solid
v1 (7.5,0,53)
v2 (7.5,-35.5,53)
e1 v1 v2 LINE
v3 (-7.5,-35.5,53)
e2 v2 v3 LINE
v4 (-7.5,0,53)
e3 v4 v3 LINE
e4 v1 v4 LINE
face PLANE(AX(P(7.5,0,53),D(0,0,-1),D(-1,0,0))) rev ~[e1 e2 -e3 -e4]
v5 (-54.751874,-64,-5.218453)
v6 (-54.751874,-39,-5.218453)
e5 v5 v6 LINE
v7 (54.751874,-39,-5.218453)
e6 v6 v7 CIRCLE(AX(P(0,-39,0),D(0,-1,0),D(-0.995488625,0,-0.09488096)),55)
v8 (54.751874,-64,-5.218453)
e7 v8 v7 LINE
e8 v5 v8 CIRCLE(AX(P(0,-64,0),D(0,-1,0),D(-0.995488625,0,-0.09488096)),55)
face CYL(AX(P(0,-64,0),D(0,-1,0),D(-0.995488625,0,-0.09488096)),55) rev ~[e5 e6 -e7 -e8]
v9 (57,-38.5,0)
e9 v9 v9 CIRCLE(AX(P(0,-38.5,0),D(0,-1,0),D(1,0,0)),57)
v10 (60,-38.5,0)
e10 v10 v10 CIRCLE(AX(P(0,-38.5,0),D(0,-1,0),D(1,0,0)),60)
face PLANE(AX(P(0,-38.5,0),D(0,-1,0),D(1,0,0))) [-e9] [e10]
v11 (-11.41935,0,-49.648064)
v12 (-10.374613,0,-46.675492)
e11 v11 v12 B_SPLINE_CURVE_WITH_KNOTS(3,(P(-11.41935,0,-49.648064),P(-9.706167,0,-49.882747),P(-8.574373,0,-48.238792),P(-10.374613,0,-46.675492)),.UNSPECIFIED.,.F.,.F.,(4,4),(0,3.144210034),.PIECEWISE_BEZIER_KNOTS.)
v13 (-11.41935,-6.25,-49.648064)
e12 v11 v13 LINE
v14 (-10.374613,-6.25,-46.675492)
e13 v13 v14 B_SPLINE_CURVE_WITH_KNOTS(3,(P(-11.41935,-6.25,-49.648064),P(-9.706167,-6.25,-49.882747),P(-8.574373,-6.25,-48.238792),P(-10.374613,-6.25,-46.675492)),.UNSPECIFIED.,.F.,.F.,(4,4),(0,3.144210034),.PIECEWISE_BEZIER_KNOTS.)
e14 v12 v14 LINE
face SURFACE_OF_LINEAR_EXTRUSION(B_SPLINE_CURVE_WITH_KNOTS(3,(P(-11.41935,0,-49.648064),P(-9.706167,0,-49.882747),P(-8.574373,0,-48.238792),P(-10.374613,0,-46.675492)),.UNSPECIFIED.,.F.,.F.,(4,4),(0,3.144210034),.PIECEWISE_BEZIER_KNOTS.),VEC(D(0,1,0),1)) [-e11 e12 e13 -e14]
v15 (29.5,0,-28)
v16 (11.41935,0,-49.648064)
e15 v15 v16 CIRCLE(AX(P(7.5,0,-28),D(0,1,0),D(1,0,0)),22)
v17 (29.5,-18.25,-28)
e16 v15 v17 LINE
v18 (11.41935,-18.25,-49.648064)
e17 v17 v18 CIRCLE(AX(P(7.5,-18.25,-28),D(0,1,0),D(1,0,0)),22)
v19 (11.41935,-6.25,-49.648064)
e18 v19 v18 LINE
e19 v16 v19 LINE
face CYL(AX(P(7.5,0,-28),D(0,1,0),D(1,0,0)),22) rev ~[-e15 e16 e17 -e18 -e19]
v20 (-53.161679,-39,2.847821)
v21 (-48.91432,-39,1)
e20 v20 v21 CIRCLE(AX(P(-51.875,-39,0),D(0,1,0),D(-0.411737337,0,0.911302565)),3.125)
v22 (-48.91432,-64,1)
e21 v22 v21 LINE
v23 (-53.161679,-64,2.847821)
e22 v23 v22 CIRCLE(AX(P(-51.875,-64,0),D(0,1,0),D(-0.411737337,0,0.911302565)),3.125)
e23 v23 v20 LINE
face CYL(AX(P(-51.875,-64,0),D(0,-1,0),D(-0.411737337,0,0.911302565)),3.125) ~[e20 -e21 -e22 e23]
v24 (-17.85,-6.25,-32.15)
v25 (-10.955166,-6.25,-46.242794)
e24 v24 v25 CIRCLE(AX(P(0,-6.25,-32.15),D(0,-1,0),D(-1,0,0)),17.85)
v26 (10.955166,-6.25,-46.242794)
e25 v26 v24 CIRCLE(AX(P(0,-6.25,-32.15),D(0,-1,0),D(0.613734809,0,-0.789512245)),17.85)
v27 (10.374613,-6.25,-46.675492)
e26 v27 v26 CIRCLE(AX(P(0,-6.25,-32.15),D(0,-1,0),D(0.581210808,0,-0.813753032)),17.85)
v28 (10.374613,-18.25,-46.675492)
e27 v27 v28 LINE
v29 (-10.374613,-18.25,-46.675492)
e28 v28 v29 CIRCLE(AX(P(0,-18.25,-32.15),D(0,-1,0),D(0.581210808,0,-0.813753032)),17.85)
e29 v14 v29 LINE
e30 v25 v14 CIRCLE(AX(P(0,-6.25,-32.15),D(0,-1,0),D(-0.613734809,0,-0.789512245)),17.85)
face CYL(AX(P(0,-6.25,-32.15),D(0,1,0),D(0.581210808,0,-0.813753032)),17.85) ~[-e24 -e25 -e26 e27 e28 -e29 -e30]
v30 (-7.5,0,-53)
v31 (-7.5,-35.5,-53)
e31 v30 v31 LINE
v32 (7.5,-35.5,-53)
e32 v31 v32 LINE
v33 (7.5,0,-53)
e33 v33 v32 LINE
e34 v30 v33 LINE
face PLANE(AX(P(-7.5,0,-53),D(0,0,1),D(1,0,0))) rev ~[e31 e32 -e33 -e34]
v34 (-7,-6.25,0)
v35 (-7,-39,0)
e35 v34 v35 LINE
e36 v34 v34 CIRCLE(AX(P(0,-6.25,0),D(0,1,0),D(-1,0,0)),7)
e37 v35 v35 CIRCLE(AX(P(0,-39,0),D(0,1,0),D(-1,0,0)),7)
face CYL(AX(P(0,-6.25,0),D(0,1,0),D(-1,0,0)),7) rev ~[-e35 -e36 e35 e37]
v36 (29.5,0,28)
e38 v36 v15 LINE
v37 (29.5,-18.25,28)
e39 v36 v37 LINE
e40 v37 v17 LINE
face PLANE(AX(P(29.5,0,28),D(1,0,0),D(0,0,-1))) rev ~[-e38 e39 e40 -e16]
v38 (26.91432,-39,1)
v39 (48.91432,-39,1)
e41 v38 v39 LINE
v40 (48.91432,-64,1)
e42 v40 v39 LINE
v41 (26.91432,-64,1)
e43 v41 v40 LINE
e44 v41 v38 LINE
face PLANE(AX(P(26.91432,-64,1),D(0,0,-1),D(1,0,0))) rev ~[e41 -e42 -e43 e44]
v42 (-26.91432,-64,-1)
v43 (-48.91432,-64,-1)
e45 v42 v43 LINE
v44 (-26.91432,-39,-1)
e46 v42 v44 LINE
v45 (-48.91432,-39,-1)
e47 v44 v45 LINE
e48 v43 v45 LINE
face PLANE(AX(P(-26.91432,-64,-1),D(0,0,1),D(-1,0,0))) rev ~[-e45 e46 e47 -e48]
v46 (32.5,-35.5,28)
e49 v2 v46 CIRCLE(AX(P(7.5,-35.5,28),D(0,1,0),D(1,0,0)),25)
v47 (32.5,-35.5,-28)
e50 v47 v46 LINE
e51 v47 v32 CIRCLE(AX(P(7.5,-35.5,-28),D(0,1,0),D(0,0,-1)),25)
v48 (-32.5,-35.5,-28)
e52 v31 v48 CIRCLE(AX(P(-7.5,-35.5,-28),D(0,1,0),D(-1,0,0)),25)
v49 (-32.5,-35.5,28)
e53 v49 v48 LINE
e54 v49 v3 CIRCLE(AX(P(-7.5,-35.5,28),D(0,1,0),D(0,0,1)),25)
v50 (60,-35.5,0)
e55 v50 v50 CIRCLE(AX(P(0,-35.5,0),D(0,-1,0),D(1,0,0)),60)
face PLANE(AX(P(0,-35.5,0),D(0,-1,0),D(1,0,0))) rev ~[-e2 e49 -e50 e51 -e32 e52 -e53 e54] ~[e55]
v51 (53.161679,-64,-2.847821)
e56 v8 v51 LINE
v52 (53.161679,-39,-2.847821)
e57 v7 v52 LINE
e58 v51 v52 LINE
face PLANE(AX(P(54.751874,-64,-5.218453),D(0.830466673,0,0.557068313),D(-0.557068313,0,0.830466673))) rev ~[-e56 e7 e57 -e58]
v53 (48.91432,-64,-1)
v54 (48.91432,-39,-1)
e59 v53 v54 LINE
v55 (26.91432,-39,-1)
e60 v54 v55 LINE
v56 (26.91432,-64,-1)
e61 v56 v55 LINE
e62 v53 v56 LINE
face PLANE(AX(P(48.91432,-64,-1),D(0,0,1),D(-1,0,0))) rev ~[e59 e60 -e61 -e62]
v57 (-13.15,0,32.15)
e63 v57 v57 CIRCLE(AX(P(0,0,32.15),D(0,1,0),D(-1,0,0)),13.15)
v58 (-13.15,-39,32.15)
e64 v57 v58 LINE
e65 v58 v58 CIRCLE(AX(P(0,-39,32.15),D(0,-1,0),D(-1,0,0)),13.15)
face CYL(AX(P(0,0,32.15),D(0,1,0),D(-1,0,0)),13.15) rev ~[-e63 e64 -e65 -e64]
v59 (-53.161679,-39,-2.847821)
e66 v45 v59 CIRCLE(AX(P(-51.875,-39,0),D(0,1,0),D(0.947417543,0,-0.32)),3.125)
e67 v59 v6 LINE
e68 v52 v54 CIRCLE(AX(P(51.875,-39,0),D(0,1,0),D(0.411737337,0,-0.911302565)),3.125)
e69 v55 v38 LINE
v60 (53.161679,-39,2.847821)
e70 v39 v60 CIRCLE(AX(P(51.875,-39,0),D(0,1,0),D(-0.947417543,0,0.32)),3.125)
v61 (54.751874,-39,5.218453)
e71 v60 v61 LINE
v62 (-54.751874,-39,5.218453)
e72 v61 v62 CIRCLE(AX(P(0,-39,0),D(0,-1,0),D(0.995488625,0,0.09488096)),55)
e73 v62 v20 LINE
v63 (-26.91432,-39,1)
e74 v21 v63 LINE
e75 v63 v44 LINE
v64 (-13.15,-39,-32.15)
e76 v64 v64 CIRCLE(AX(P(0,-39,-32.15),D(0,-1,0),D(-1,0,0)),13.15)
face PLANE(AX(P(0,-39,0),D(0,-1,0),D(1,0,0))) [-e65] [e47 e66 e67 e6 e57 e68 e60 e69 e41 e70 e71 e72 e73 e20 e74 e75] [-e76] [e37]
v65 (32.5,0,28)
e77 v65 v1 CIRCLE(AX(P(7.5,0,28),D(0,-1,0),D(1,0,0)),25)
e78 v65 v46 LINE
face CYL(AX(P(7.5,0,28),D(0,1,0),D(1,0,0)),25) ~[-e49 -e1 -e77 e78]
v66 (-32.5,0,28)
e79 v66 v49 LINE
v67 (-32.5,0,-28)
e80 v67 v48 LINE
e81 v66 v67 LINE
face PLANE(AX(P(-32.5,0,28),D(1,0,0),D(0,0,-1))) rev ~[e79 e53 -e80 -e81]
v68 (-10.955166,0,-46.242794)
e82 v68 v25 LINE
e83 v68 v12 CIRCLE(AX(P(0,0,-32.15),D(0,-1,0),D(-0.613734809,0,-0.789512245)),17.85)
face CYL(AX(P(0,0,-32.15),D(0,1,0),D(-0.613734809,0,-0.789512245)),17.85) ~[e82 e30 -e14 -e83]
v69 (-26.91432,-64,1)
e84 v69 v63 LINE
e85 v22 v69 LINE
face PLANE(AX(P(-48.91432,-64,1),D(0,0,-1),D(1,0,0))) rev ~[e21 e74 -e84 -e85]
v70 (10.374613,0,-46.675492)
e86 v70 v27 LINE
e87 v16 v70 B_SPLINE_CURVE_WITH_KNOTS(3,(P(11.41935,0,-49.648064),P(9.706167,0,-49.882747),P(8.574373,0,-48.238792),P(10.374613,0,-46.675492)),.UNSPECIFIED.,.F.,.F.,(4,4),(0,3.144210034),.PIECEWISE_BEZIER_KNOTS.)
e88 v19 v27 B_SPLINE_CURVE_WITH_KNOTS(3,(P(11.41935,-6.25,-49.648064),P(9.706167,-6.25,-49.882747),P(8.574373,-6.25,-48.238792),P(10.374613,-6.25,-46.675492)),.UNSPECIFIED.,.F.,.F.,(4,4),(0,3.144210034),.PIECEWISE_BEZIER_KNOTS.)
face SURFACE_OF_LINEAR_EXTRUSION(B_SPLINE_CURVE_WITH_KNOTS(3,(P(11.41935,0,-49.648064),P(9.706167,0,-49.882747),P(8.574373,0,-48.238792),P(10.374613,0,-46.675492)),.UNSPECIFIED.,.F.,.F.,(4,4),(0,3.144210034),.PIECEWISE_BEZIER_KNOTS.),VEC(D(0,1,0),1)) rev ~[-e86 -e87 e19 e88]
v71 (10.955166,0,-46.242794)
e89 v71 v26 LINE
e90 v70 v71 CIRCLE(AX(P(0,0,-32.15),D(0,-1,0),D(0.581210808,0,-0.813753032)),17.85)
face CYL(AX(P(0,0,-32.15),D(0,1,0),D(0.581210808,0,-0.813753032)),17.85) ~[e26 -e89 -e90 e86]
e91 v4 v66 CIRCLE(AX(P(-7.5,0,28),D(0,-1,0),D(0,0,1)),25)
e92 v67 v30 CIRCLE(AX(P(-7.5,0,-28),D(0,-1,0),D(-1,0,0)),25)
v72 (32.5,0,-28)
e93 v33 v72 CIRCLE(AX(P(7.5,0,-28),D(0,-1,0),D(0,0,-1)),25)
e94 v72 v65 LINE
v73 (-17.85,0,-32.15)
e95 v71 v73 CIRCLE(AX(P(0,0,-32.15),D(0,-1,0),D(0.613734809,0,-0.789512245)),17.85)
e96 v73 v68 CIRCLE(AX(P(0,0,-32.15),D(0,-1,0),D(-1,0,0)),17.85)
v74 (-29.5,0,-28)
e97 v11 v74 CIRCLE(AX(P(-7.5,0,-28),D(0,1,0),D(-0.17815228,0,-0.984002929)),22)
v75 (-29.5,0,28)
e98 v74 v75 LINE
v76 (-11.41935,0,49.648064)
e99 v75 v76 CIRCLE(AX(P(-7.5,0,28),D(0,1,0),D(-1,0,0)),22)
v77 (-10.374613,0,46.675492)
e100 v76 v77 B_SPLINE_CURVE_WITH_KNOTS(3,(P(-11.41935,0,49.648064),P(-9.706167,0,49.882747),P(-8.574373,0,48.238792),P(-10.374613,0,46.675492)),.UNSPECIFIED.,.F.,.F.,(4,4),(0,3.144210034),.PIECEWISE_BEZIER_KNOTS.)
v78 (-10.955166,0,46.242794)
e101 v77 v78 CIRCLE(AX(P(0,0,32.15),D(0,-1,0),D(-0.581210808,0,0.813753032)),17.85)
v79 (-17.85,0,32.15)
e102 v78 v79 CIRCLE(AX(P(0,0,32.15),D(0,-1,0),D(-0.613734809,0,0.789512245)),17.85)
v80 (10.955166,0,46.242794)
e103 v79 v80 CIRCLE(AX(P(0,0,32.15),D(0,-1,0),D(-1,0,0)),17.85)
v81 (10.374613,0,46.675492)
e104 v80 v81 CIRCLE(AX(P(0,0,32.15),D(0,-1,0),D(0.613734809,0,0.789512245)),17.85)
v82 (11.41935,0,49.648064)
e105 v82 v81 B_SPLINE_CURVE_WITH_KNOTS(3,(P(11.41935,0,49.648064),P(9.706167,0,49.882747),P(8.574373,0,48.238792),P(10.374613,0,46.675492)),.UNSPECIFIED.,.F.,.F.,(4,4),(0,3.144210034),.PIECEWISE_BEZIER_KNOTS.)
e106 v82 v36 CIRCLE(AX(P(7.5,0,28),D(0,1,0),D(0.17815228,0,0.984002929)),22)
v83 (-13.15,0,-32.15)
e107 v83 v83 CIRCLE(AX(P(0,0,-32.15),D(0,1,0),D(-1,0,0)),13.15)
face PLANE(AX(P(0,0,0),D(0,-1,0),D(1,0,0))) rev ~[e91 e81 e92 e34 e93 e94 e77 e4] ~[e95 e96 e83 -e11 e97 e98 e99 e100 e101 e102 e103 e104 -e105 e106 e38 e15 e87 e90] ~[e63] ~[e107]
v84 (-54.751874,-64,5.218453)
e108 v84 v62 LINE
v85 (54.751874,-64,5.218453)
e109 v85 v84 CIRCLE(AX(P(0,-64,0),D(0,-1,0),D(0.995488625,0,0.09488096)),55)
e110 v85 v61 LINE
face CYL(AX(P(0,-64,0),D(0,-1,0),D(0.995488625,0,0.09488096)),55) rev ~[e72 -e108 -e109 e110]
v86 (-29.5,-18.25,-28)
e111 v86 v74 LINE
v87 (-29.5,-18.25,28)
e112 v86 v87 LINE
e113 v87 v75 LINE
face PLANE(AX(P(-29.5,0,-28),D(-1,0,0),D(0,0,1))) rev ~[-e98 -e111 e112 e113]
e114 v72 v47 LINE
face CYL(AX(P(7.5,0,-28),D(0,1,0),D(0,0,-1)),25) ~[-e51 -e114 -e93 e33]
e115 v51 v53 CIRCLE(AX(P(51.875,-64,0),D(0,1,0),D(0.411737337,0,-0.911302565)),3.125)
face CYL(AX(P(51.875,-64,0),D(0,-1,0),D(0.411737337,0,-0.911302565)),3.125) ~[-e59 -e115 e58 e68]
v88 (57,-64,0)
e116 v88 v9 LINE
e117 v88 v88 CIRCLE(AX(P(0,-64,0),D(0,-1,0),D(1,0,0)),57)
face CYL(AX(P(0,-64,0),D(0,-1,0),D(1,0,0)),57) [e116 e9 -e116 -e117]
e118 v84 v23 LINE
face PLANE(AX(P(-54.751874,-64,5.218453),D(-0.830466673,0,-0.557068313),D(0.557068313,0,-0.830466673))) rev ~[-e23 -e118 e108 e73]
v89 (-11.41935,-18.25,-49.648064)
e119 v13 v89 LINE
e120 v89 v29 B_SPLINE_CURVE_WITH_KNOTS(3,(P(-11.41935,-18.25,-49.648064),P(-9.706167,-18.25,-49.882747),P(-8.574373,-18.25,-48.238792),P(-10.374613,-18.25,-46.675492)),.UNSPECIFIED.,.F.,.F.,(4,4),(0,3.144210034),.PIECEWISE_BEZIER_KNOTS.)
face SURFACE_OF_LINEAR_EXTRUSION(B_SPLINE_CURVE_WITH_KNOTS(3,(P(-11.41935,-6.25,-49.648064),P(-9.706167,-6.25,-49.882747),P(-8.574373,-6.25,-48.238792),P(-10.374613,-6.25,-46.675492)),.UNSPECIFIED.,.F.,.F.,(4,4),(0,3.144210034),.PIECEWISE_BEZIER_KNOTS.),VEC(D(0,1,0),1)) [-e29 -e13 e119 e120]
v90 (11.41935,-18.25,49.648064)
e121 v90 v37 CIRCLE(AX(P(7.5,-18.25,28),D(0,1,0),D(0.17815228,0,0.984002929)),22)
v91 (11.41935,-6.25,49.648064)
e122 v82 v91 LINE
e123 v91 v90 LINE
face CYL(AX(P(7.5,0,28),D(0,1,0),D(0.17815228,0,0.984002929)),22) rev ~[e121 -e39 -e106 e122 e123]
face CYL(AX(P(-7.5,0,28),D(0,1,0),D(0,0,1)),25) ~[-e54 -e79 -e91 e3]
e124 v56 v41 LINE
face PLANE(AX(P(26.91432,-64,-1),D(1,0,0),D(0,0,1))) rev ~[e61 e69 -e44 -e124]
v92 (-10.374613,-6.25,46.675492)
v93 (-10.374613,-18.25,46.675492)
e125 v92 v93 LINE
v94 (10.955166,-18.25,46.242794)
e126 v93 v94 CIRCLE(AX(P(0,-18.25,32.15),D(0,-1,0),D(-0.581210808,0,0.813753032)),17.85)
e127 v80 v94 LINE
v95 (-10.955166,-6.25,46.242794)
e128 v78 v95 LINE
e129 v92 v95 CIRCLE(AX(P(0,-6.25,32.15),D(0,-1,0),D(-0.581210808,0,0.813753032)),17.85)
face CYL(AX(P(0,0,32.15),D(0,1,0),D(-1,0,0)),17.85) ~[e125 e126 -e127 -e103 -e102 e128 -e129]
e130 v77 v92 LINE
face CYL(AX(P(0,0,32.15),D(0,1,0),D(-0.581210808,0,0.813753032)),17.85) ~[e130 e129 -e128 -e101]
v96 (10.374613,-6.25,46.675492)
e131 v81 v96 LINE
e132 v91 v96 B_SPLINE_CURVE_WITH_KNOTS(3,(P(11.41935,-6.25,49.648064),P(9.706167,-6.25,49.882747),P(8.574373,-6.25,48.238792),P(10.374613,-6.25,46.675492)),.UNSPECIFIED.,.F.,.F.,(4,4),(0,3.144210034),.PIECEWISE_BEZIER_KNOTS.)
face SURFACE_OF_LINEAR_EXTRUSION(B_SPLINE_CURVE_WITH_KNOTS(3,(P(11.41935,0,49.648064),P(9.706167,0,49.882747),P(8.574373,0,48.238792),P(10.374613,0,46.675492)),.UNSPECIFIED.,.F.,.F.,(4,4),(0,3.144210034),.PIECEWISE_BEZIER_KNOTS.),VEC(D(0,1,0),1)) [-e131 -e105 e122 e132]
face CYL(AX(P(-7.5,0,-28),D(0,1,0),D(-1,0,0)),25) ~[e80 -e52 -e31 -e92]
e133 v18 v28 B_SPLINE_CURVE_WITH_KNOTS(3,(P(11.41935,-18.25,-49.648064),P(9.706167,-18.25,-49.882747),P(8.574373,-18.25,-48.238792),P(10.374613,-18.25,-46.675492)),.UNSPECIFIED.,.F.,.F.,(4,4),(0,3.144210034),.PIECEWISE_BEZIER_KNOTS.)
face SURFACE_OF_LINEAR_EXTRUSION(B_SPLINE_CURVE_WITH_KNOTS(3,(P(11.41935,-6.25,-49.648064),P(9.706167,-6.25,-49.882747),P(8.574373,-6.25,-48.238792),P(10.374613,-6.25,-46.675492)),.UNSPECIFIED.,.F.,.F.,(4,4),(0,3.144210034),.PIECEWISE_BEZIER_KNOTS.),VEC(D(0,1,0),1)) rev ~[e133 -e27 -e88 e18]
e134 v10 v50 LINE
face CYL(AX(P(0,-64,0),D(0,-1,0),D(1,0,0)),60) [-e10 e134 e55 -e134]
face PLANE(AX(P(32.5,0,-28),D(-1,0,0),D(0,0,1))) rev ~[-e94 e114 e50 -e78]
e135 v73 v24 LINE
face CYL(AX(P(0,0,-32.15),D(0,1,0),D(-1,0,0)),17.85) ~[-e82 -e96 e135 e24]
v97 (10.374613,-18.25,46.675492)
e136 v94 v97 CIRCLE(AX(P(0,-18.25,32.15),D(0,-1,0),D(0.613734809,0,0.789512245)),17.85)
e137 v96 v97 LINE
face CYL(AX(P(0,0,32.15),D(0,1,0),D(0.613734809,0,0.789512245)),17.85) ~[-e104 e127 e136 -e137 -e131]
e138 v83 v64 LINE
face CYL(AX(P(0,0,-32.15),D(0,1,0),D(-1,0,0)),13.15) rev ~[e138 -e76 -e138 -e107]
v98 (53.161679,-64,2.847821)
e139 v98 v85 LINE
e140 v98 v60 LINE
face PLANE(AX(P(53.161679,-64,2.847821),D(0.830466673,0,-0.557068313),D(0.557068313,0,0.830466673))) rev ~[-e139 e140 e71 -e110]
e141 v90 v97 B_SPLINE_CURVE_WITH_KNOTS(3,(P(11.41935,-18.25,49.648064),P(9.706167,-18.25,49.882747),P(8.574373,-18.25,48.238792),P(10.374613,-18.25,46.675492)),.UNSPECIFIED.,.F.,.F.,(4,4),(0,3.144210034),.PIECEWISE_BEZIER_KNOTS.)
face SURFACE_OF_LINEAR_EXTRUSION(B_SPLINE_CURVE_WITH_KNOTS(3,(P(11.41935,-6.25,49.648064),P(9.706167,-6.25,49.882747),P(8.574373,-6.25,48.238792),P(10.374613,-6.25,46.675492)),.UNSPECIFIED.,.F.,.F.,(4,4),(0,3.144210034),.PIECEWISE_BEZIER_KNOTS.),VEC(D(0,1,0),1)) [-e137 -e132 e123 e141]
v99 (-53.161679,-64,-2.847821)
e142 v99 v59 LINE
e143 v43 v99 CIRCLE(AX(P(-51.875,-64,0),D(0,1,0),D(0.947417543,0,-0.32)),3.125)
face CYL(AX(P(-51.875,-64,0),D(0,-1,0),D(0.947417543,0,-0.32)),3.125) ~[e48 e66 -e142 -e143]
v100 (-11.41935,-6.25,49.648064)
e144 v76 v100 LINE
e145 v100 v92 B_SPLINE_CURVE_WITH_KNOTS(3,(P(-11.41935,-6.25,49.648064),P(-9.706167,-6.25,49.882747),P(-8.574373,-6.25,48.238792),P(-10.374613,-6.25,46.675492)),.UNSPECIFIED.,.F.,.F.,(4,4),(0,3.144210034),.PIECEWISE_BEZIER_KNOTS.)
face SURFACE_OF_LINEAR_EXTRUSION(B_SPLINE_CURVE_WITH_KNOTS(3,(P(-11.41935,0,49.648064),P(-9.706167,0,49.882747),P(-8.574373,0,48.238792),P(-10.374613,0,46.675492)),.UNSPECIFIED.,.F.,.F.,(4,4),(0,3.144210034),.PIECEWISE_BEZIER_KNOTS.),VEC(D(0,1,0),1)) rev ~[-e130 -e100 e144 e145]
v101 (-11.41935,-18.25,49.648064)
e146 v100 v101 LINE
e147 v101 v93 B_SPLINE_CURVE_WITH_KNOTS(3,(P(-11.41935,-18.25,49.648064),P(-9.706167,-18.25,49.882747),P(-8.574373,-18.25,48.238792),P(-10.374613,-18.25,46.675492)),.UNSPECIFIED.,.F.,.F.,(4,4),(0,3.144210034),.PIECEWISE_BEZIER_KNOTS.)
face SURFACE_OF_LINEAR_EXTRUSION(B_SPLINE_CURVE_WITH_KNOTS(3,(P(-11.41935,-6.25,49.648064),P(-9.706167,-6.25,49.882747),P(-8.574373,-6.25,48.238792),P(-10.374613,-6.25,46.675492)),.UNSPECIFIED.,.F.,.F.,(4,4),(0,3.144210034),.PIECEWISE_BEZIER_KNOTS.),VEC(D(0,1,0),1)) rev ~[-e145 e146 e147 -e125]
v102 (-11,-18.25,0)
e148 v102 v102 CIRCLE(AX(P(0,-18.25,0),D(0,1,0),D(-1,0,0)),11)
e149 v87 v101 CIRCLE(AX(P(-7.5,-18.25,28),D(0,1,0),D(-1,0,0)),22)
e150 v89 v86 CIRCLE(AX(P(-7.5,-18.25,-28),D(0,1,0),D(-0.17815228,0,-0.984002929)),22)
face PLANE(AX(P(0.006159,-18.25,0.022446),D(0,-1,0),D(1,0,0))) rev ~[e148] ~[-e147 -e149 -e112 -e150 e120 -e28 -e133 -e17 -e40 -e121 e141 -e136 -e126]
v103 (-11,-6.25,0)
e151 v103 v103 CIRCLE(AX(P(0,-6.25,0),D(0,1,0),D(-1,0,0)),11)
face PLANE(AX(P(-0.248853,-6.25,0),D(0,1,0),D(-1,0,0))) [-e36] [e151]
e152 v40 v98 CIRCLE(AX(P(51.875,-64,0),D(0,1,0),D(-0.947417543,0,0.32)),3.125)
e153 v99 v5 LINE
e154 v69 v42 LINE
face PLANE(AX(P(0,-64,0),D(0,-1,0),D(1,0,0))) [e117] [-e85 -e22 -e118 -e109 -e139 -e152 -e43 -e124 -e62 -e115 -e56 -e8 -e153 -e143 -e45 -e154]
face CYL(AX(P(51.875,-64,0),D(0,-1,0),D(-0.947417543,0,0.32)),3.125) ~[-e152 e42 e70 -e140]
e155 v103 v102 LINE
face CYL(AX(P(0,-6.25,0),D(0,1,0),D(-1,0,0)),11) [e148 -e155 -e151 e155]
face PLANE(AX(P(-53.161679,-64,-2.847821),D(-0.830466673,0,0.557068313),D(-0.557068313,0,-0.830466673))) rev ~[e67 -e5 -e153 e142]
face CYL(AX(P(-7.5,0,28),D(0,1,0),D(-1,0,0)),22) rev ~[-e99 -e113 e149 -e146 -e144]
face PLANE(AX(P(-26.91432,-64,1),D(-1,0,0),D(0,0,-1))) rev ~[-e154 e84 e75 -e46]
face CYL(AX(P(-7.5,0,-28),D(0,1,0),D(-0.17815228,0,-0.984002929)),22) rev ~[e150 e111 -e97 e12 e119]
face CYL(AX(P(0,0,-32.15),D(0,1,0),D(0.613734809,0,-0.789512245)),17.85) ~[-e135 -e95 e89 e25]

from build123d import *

# Parameters (mm, degrees)
F1_DEPTH  = 64
F2_R      = 60
F3_DEPTH  = 28.5
F4_R      = 60
F4_R_2    = 57
F5_DEPTH  = 25.5
F7_DEPTH  = 6.25
F8_R      = 13.15
F9_DEPTH  = 64.001
F10_R     = 11
F11_DEPTH = 12
F12_R     = 13.15
F13_DEPTH = 25
F14_R     = 7
F15_DEPTH = 57.751


with BuildPart() as f1:
    # F0 (on Front) → F1 (new body)
    with BuildSketch(Plane.XZ):
        with BuildLine():
            ThreePointArc((-32.5, -28), (-25.1776695297, -45.6776695297), (-7.5, -53))
            Line((-7.5, -53), (7.5, -53))
            ThreePointArc((7.5, -53), (25.1776695297, -45.6776695297), (32.5, -28))
            Line((32.5, -28), (32.5, 28))
            ThreePointArc((32.5, 28), (25.1776695297, 45.6776695297), (7.5, 53))
            Line((7.5, 53), (-7.5, 53))
            ThreePointArc((-7.5, 53), (-25.1776695297, 45.6776695297), (-32.5, 28))
            Line((-32.5, 28), (-32.5, -28))
        make_face()
    extrude(amount=F1_DEPTH)

    # F2 (on face) → F3 (join)
    with BuildSketch(Plane.XZ.offset(64)):
        Circle(F2_R)
    extrude(amount=-F3_DEPTH)

    # F4 (on face) → F5 (cut)
    with BuildSketch(Plane.XZ.offset(64)):
        Circle(F4_R)
        Circle(F4_R_2, mode=Mode.SUBTRACT)
    extrude(amount=-F5_DEPTH, mode=Mode.SUBTRACT)

    # F6 (on face) → F7 (cut)
    with BuildSketch(Plane(origin=(0, 0, 0), x_dir=(-1, 0, 0), z_dir=(0, 1, 0))):
        with BuildLine():
            ThreePointArc((10.955166333, 46.2427935703), (16.0339049992, 39.9945133997), (17.85, 32.15))
            ThreePointArc((17.85, 32.15), (-7.8445133997, 16.1160950008), (-10.955166333, 46.2427935703))
            ThreePointArc((-10.955166333, 46.2427935703), (-10.6670838439, 46.4620865798), (-10.3746129282, 46.6754916127))
            add(Edge.make_bspline(
                [(-11.4193501695, 49.6480644458), (-9.7061666222, 49.8827470388), (-8.574372674, 48.2387921733), (-10.3746129282, 46.6754916127)],
                knots=[0, 0, 0, 0, 3.1442100344, 3.1442100344, 3.1442100344, 3.1442100344], degree=3))
            ThreePointArc((-11.4193501695, 49.6480644458), (-24.3852850691, 42.1027354841), (-29.5, 28))
            Line((-29.5, 28), (-29.5, -28))
            ThreePointArc((-29.5, -28), (-24.3852850691, -42.1027354841), (-11.4193501695, -49.6480644458))
            add(Edge.make_bspline(
                [(-11.4193501695, -49.6480644458), (-9.7061666222, -49.8827470388), (-8.574372674, -48.2387921733), (-10.3746129282, -46.6754916127)],
                knots=[0, 0, 0, 0, 3.1442100344, 3.1442100344, 3.1442100344, 3.1442100344], degree=3))
            ThreePointArc((-10.3746129282, -46.6754916127), (-10.6670838439, -46.4620865798), (-10.955166333, -46.2427935703))
            ThreePointArc((-10.955166333, -46.2427935703), (-7.8445133997, -16.1160950008), (17.85, -32.15))
            ThreePointArc((17.85, -32.15), (16.0339049992, -39.9945133997), (10.955166333, -46.2427935703))
            ThreePointArc((10.955166333, -46.2427935703), (10.6670838439, -46.4620865798), (10.3746129282, -46.6754916127))
            add(Edge.make_bspline(
                [(11.4193501695, -49.6480644458), (9.7061666222, -49.8827470388), (8.574372674, -48.2387921733), (10.3746129282, -46.6754916127)],
                knots=[0, 0, 0, 0, 3.1442100344, 3.1442100344, 3.1442100344, 3.1442100344], degree=3))
            ThreePointArc((11.4193501695, -49.6480644458), (24.3852850691, -42.1027354841), (29.5, -28))
            Line((29.5, -28), (29.5, 28))
            ThreePointArc((29.5, 28), (24.3852850691, 42.1027354841), (11.4193501695, 49.6480644458))
            add(Edge.make_bspline(
                [(11.4193501695, 49.6480644458), (9.7061666222, 49.8827470388), (8.574372674, 48.2387921733), (10.3746129282, 46.6754916127)],
                knots=[0, 0, 0, 0, 3.1442100344, 3.1442100344, 3.1442100344, 3.1442100344], degree=3))
            ThreePointArc((10.3746129282, 46.6754916127), (10.6670838439, 46.4620865798), (10.955166333, 46.2427935703))
        make_face()
    extrude(amount=-F7_DEPTH, mode=Mode.SUBTRACT)

    # F8 (on face) → F9 (cut, through all)
    with BuildSketch(Plane(origin=(0, 0, 0), x_dir=(-1, 0, 0), z_dir=(0, 1, 0))):
        with Locations((0, 32.15)):
            Circle(F8_R)
        with Locations((0, -32.15)):
            Circle(F8_R)
    extrude(amount=-F9_DEPTH, mode=Mode.SUBTRACT)

    # F10 (on face) → F11 (cut)
    with BuildSketch(Plane(origin=(0, -6.25, 0), x_dir=(-1, 0, 0), z_dir=(0, 1, 0))):
        with BuildLine():
            add(Edge.make_bspline(
                [(11.4193501695, -49.6480644458), (9.7061666222, -49.8827470388), (8.574372674, -48.2387921733), (10.3746129282, -46.6754916127)],
                knots=[0, 0, 0, 0, 3.1442100344, 3.1442100344, 3.1442100344, 3.1442100344], degree=3))
            ThreePointArc((11.4193501695, -49.6480644458), (24.3852850691, -42.1027354841), (29.5, -28))
            Line((29.5, -28), (29.5, 28))
            ThreePointArc((29.5, 28), (24.3852850691, 42.1027354841), (11.4193501695, 49.6480644458))
            add(Edge.make_bspline(
                [(11.4193501695, 49.6480644458), (9.7061666222, 49.8827470388), (8.574372674, 48.2387921733), (10.3746129282, 46.6754916127)],
                knots=[0, 0, 0, 0, 3.1442100344, 3.1442100344, 3.1442100344, 3.1442100344], degree=3))
            ThreePointArc((10.3746129282, 46.6754916127), (0.3620324059, 14.3036717351), (-10.955166333, 46.2427935703))
            ThreePointArc((-10.955166333, 46.2427935703), (-10.6670838439, 46.4620865798), (-10.3746129282, 46.6754916127))
            add(Edge.make_bspline(
                [(-11.4193501695, 49.6480644458), (-9.7061666222, 49.8827470388), (-8.574372674, 48.2387921733), (-10.3746129282, 46.6754916127)],
                knots=[0, 0, 0, 0, 3.1442100344, 3.1442100344, 3.1442100344, 3.1442100344], degree=3))
            ThreePointArc((-11.4193501695, 49.6480644458), (-24.3852850691, 42.1027354841), (-29.5, 28))
            Line((-29.5, 28), (-29.5, -28))
            ThreePointArc((-29.5, -28), (-24.3852850691, -42.1027354841), (-11.4193501695, -49.6480644458))
            add(Edge.make_bspline(
                [(-11.4193501695, -49.6480644458), (-9.7061666222, -49.8827470388), (-8.574372674, -48.2387921733), (-10.3746129282, -46.6754916127)],
                knots=[0, 0, 0, 0, 3.1442100344, 3.1442100344, 3.1442100344, 3.1442100344], degree=3))
            ThreePointArc((-10.3746129282, -46.6754916127), (0, -14.3), (10.3746129282, -46.6754916127))
        make_face()
        Circle(F10_R, mode=Mode.SUBTRACT)
    extrude(amount=-F11_DEPTH, mode=Mode.SUBTRACT)

    # F12 (on face) → F13 (cut)
    with BuildSketch(Plane.XZ.offset(64)):
        with BuildLine():
            ThreePointArc((-53.1616791792, 2.8478205157), (-50.6283325618, 2.8655619516), (-48.9143201794, 1))
            Line((-48.9143201794, 1), (-26.9143201794, 1))
            Line((-26.9143201794, 1), (-26.9143201794, -1))
            Line((-26.9143201794, -1), (-48.9143201794, -1))
            ThreePointArc((-48.9143201794, -1), (-50.6283325618, -2.8655619516), (-53.1616791792, -2.8478205157))
            Line((-53.1616791792, -2.8478205157), (-54.7518743997, -5.2184528093))
            ThreePointArc((-54.7518743997, -5.2184528093), (0, -55), (54.7518743997, -5.2184528093))
            Line((54.7518743997, -5.2184528093), (53.1616791792, -2.8478205157))
            ThreePointArc((53.1616791792, -2.8478205157), (50.6283325618, -2.8655619516), (48.9143201794, -1))
            Line((48.9143201794, -1), (26.9143201794, -1))
            Line((26.9143201794, -1), (26.9143201794, 1))
            Line((26.9143201794, 1), (48.9143201794, 1))
            ThreePointArc((48.9143201794, 1), (50.6283325618, 2.8655619516), (53.1616791792, 2.8478205157))
            Line((53.1616791792, 2.8478205157), (54.7518743997, 5.2184528093))
            ThreePointArc((54.7518743997, 5.2184528093), (0, 55), (-54.7518743997, 5.2184528093))
            Line((-54.7518743997, 5.2184528093), (-53.1616791792, 2.8478205157))
        make_face()
        with Locations((0, -32.15)):
            Circle(F12_R, mode=Mode.SUBTRACT)
        with Locations((0, 32.15)):
            Circle(F12_R, mode=Mode.SUBTRACT)
    extrude(amount=-F13_DEPTH, mode=Mode.SUBTRACT)

    # F14 (on face) → F15 (cut, through all)
    with BuildSketch(Plane(origin=(0, -6.25, 0), x_dir=(-1, 0, 0), z_dir=(0, 1, 0))):
        Circle(F14_R)
    extrude(amount=-F15_DEPTH, mode=Mode.SUBTRACT)


solid = f1.part
